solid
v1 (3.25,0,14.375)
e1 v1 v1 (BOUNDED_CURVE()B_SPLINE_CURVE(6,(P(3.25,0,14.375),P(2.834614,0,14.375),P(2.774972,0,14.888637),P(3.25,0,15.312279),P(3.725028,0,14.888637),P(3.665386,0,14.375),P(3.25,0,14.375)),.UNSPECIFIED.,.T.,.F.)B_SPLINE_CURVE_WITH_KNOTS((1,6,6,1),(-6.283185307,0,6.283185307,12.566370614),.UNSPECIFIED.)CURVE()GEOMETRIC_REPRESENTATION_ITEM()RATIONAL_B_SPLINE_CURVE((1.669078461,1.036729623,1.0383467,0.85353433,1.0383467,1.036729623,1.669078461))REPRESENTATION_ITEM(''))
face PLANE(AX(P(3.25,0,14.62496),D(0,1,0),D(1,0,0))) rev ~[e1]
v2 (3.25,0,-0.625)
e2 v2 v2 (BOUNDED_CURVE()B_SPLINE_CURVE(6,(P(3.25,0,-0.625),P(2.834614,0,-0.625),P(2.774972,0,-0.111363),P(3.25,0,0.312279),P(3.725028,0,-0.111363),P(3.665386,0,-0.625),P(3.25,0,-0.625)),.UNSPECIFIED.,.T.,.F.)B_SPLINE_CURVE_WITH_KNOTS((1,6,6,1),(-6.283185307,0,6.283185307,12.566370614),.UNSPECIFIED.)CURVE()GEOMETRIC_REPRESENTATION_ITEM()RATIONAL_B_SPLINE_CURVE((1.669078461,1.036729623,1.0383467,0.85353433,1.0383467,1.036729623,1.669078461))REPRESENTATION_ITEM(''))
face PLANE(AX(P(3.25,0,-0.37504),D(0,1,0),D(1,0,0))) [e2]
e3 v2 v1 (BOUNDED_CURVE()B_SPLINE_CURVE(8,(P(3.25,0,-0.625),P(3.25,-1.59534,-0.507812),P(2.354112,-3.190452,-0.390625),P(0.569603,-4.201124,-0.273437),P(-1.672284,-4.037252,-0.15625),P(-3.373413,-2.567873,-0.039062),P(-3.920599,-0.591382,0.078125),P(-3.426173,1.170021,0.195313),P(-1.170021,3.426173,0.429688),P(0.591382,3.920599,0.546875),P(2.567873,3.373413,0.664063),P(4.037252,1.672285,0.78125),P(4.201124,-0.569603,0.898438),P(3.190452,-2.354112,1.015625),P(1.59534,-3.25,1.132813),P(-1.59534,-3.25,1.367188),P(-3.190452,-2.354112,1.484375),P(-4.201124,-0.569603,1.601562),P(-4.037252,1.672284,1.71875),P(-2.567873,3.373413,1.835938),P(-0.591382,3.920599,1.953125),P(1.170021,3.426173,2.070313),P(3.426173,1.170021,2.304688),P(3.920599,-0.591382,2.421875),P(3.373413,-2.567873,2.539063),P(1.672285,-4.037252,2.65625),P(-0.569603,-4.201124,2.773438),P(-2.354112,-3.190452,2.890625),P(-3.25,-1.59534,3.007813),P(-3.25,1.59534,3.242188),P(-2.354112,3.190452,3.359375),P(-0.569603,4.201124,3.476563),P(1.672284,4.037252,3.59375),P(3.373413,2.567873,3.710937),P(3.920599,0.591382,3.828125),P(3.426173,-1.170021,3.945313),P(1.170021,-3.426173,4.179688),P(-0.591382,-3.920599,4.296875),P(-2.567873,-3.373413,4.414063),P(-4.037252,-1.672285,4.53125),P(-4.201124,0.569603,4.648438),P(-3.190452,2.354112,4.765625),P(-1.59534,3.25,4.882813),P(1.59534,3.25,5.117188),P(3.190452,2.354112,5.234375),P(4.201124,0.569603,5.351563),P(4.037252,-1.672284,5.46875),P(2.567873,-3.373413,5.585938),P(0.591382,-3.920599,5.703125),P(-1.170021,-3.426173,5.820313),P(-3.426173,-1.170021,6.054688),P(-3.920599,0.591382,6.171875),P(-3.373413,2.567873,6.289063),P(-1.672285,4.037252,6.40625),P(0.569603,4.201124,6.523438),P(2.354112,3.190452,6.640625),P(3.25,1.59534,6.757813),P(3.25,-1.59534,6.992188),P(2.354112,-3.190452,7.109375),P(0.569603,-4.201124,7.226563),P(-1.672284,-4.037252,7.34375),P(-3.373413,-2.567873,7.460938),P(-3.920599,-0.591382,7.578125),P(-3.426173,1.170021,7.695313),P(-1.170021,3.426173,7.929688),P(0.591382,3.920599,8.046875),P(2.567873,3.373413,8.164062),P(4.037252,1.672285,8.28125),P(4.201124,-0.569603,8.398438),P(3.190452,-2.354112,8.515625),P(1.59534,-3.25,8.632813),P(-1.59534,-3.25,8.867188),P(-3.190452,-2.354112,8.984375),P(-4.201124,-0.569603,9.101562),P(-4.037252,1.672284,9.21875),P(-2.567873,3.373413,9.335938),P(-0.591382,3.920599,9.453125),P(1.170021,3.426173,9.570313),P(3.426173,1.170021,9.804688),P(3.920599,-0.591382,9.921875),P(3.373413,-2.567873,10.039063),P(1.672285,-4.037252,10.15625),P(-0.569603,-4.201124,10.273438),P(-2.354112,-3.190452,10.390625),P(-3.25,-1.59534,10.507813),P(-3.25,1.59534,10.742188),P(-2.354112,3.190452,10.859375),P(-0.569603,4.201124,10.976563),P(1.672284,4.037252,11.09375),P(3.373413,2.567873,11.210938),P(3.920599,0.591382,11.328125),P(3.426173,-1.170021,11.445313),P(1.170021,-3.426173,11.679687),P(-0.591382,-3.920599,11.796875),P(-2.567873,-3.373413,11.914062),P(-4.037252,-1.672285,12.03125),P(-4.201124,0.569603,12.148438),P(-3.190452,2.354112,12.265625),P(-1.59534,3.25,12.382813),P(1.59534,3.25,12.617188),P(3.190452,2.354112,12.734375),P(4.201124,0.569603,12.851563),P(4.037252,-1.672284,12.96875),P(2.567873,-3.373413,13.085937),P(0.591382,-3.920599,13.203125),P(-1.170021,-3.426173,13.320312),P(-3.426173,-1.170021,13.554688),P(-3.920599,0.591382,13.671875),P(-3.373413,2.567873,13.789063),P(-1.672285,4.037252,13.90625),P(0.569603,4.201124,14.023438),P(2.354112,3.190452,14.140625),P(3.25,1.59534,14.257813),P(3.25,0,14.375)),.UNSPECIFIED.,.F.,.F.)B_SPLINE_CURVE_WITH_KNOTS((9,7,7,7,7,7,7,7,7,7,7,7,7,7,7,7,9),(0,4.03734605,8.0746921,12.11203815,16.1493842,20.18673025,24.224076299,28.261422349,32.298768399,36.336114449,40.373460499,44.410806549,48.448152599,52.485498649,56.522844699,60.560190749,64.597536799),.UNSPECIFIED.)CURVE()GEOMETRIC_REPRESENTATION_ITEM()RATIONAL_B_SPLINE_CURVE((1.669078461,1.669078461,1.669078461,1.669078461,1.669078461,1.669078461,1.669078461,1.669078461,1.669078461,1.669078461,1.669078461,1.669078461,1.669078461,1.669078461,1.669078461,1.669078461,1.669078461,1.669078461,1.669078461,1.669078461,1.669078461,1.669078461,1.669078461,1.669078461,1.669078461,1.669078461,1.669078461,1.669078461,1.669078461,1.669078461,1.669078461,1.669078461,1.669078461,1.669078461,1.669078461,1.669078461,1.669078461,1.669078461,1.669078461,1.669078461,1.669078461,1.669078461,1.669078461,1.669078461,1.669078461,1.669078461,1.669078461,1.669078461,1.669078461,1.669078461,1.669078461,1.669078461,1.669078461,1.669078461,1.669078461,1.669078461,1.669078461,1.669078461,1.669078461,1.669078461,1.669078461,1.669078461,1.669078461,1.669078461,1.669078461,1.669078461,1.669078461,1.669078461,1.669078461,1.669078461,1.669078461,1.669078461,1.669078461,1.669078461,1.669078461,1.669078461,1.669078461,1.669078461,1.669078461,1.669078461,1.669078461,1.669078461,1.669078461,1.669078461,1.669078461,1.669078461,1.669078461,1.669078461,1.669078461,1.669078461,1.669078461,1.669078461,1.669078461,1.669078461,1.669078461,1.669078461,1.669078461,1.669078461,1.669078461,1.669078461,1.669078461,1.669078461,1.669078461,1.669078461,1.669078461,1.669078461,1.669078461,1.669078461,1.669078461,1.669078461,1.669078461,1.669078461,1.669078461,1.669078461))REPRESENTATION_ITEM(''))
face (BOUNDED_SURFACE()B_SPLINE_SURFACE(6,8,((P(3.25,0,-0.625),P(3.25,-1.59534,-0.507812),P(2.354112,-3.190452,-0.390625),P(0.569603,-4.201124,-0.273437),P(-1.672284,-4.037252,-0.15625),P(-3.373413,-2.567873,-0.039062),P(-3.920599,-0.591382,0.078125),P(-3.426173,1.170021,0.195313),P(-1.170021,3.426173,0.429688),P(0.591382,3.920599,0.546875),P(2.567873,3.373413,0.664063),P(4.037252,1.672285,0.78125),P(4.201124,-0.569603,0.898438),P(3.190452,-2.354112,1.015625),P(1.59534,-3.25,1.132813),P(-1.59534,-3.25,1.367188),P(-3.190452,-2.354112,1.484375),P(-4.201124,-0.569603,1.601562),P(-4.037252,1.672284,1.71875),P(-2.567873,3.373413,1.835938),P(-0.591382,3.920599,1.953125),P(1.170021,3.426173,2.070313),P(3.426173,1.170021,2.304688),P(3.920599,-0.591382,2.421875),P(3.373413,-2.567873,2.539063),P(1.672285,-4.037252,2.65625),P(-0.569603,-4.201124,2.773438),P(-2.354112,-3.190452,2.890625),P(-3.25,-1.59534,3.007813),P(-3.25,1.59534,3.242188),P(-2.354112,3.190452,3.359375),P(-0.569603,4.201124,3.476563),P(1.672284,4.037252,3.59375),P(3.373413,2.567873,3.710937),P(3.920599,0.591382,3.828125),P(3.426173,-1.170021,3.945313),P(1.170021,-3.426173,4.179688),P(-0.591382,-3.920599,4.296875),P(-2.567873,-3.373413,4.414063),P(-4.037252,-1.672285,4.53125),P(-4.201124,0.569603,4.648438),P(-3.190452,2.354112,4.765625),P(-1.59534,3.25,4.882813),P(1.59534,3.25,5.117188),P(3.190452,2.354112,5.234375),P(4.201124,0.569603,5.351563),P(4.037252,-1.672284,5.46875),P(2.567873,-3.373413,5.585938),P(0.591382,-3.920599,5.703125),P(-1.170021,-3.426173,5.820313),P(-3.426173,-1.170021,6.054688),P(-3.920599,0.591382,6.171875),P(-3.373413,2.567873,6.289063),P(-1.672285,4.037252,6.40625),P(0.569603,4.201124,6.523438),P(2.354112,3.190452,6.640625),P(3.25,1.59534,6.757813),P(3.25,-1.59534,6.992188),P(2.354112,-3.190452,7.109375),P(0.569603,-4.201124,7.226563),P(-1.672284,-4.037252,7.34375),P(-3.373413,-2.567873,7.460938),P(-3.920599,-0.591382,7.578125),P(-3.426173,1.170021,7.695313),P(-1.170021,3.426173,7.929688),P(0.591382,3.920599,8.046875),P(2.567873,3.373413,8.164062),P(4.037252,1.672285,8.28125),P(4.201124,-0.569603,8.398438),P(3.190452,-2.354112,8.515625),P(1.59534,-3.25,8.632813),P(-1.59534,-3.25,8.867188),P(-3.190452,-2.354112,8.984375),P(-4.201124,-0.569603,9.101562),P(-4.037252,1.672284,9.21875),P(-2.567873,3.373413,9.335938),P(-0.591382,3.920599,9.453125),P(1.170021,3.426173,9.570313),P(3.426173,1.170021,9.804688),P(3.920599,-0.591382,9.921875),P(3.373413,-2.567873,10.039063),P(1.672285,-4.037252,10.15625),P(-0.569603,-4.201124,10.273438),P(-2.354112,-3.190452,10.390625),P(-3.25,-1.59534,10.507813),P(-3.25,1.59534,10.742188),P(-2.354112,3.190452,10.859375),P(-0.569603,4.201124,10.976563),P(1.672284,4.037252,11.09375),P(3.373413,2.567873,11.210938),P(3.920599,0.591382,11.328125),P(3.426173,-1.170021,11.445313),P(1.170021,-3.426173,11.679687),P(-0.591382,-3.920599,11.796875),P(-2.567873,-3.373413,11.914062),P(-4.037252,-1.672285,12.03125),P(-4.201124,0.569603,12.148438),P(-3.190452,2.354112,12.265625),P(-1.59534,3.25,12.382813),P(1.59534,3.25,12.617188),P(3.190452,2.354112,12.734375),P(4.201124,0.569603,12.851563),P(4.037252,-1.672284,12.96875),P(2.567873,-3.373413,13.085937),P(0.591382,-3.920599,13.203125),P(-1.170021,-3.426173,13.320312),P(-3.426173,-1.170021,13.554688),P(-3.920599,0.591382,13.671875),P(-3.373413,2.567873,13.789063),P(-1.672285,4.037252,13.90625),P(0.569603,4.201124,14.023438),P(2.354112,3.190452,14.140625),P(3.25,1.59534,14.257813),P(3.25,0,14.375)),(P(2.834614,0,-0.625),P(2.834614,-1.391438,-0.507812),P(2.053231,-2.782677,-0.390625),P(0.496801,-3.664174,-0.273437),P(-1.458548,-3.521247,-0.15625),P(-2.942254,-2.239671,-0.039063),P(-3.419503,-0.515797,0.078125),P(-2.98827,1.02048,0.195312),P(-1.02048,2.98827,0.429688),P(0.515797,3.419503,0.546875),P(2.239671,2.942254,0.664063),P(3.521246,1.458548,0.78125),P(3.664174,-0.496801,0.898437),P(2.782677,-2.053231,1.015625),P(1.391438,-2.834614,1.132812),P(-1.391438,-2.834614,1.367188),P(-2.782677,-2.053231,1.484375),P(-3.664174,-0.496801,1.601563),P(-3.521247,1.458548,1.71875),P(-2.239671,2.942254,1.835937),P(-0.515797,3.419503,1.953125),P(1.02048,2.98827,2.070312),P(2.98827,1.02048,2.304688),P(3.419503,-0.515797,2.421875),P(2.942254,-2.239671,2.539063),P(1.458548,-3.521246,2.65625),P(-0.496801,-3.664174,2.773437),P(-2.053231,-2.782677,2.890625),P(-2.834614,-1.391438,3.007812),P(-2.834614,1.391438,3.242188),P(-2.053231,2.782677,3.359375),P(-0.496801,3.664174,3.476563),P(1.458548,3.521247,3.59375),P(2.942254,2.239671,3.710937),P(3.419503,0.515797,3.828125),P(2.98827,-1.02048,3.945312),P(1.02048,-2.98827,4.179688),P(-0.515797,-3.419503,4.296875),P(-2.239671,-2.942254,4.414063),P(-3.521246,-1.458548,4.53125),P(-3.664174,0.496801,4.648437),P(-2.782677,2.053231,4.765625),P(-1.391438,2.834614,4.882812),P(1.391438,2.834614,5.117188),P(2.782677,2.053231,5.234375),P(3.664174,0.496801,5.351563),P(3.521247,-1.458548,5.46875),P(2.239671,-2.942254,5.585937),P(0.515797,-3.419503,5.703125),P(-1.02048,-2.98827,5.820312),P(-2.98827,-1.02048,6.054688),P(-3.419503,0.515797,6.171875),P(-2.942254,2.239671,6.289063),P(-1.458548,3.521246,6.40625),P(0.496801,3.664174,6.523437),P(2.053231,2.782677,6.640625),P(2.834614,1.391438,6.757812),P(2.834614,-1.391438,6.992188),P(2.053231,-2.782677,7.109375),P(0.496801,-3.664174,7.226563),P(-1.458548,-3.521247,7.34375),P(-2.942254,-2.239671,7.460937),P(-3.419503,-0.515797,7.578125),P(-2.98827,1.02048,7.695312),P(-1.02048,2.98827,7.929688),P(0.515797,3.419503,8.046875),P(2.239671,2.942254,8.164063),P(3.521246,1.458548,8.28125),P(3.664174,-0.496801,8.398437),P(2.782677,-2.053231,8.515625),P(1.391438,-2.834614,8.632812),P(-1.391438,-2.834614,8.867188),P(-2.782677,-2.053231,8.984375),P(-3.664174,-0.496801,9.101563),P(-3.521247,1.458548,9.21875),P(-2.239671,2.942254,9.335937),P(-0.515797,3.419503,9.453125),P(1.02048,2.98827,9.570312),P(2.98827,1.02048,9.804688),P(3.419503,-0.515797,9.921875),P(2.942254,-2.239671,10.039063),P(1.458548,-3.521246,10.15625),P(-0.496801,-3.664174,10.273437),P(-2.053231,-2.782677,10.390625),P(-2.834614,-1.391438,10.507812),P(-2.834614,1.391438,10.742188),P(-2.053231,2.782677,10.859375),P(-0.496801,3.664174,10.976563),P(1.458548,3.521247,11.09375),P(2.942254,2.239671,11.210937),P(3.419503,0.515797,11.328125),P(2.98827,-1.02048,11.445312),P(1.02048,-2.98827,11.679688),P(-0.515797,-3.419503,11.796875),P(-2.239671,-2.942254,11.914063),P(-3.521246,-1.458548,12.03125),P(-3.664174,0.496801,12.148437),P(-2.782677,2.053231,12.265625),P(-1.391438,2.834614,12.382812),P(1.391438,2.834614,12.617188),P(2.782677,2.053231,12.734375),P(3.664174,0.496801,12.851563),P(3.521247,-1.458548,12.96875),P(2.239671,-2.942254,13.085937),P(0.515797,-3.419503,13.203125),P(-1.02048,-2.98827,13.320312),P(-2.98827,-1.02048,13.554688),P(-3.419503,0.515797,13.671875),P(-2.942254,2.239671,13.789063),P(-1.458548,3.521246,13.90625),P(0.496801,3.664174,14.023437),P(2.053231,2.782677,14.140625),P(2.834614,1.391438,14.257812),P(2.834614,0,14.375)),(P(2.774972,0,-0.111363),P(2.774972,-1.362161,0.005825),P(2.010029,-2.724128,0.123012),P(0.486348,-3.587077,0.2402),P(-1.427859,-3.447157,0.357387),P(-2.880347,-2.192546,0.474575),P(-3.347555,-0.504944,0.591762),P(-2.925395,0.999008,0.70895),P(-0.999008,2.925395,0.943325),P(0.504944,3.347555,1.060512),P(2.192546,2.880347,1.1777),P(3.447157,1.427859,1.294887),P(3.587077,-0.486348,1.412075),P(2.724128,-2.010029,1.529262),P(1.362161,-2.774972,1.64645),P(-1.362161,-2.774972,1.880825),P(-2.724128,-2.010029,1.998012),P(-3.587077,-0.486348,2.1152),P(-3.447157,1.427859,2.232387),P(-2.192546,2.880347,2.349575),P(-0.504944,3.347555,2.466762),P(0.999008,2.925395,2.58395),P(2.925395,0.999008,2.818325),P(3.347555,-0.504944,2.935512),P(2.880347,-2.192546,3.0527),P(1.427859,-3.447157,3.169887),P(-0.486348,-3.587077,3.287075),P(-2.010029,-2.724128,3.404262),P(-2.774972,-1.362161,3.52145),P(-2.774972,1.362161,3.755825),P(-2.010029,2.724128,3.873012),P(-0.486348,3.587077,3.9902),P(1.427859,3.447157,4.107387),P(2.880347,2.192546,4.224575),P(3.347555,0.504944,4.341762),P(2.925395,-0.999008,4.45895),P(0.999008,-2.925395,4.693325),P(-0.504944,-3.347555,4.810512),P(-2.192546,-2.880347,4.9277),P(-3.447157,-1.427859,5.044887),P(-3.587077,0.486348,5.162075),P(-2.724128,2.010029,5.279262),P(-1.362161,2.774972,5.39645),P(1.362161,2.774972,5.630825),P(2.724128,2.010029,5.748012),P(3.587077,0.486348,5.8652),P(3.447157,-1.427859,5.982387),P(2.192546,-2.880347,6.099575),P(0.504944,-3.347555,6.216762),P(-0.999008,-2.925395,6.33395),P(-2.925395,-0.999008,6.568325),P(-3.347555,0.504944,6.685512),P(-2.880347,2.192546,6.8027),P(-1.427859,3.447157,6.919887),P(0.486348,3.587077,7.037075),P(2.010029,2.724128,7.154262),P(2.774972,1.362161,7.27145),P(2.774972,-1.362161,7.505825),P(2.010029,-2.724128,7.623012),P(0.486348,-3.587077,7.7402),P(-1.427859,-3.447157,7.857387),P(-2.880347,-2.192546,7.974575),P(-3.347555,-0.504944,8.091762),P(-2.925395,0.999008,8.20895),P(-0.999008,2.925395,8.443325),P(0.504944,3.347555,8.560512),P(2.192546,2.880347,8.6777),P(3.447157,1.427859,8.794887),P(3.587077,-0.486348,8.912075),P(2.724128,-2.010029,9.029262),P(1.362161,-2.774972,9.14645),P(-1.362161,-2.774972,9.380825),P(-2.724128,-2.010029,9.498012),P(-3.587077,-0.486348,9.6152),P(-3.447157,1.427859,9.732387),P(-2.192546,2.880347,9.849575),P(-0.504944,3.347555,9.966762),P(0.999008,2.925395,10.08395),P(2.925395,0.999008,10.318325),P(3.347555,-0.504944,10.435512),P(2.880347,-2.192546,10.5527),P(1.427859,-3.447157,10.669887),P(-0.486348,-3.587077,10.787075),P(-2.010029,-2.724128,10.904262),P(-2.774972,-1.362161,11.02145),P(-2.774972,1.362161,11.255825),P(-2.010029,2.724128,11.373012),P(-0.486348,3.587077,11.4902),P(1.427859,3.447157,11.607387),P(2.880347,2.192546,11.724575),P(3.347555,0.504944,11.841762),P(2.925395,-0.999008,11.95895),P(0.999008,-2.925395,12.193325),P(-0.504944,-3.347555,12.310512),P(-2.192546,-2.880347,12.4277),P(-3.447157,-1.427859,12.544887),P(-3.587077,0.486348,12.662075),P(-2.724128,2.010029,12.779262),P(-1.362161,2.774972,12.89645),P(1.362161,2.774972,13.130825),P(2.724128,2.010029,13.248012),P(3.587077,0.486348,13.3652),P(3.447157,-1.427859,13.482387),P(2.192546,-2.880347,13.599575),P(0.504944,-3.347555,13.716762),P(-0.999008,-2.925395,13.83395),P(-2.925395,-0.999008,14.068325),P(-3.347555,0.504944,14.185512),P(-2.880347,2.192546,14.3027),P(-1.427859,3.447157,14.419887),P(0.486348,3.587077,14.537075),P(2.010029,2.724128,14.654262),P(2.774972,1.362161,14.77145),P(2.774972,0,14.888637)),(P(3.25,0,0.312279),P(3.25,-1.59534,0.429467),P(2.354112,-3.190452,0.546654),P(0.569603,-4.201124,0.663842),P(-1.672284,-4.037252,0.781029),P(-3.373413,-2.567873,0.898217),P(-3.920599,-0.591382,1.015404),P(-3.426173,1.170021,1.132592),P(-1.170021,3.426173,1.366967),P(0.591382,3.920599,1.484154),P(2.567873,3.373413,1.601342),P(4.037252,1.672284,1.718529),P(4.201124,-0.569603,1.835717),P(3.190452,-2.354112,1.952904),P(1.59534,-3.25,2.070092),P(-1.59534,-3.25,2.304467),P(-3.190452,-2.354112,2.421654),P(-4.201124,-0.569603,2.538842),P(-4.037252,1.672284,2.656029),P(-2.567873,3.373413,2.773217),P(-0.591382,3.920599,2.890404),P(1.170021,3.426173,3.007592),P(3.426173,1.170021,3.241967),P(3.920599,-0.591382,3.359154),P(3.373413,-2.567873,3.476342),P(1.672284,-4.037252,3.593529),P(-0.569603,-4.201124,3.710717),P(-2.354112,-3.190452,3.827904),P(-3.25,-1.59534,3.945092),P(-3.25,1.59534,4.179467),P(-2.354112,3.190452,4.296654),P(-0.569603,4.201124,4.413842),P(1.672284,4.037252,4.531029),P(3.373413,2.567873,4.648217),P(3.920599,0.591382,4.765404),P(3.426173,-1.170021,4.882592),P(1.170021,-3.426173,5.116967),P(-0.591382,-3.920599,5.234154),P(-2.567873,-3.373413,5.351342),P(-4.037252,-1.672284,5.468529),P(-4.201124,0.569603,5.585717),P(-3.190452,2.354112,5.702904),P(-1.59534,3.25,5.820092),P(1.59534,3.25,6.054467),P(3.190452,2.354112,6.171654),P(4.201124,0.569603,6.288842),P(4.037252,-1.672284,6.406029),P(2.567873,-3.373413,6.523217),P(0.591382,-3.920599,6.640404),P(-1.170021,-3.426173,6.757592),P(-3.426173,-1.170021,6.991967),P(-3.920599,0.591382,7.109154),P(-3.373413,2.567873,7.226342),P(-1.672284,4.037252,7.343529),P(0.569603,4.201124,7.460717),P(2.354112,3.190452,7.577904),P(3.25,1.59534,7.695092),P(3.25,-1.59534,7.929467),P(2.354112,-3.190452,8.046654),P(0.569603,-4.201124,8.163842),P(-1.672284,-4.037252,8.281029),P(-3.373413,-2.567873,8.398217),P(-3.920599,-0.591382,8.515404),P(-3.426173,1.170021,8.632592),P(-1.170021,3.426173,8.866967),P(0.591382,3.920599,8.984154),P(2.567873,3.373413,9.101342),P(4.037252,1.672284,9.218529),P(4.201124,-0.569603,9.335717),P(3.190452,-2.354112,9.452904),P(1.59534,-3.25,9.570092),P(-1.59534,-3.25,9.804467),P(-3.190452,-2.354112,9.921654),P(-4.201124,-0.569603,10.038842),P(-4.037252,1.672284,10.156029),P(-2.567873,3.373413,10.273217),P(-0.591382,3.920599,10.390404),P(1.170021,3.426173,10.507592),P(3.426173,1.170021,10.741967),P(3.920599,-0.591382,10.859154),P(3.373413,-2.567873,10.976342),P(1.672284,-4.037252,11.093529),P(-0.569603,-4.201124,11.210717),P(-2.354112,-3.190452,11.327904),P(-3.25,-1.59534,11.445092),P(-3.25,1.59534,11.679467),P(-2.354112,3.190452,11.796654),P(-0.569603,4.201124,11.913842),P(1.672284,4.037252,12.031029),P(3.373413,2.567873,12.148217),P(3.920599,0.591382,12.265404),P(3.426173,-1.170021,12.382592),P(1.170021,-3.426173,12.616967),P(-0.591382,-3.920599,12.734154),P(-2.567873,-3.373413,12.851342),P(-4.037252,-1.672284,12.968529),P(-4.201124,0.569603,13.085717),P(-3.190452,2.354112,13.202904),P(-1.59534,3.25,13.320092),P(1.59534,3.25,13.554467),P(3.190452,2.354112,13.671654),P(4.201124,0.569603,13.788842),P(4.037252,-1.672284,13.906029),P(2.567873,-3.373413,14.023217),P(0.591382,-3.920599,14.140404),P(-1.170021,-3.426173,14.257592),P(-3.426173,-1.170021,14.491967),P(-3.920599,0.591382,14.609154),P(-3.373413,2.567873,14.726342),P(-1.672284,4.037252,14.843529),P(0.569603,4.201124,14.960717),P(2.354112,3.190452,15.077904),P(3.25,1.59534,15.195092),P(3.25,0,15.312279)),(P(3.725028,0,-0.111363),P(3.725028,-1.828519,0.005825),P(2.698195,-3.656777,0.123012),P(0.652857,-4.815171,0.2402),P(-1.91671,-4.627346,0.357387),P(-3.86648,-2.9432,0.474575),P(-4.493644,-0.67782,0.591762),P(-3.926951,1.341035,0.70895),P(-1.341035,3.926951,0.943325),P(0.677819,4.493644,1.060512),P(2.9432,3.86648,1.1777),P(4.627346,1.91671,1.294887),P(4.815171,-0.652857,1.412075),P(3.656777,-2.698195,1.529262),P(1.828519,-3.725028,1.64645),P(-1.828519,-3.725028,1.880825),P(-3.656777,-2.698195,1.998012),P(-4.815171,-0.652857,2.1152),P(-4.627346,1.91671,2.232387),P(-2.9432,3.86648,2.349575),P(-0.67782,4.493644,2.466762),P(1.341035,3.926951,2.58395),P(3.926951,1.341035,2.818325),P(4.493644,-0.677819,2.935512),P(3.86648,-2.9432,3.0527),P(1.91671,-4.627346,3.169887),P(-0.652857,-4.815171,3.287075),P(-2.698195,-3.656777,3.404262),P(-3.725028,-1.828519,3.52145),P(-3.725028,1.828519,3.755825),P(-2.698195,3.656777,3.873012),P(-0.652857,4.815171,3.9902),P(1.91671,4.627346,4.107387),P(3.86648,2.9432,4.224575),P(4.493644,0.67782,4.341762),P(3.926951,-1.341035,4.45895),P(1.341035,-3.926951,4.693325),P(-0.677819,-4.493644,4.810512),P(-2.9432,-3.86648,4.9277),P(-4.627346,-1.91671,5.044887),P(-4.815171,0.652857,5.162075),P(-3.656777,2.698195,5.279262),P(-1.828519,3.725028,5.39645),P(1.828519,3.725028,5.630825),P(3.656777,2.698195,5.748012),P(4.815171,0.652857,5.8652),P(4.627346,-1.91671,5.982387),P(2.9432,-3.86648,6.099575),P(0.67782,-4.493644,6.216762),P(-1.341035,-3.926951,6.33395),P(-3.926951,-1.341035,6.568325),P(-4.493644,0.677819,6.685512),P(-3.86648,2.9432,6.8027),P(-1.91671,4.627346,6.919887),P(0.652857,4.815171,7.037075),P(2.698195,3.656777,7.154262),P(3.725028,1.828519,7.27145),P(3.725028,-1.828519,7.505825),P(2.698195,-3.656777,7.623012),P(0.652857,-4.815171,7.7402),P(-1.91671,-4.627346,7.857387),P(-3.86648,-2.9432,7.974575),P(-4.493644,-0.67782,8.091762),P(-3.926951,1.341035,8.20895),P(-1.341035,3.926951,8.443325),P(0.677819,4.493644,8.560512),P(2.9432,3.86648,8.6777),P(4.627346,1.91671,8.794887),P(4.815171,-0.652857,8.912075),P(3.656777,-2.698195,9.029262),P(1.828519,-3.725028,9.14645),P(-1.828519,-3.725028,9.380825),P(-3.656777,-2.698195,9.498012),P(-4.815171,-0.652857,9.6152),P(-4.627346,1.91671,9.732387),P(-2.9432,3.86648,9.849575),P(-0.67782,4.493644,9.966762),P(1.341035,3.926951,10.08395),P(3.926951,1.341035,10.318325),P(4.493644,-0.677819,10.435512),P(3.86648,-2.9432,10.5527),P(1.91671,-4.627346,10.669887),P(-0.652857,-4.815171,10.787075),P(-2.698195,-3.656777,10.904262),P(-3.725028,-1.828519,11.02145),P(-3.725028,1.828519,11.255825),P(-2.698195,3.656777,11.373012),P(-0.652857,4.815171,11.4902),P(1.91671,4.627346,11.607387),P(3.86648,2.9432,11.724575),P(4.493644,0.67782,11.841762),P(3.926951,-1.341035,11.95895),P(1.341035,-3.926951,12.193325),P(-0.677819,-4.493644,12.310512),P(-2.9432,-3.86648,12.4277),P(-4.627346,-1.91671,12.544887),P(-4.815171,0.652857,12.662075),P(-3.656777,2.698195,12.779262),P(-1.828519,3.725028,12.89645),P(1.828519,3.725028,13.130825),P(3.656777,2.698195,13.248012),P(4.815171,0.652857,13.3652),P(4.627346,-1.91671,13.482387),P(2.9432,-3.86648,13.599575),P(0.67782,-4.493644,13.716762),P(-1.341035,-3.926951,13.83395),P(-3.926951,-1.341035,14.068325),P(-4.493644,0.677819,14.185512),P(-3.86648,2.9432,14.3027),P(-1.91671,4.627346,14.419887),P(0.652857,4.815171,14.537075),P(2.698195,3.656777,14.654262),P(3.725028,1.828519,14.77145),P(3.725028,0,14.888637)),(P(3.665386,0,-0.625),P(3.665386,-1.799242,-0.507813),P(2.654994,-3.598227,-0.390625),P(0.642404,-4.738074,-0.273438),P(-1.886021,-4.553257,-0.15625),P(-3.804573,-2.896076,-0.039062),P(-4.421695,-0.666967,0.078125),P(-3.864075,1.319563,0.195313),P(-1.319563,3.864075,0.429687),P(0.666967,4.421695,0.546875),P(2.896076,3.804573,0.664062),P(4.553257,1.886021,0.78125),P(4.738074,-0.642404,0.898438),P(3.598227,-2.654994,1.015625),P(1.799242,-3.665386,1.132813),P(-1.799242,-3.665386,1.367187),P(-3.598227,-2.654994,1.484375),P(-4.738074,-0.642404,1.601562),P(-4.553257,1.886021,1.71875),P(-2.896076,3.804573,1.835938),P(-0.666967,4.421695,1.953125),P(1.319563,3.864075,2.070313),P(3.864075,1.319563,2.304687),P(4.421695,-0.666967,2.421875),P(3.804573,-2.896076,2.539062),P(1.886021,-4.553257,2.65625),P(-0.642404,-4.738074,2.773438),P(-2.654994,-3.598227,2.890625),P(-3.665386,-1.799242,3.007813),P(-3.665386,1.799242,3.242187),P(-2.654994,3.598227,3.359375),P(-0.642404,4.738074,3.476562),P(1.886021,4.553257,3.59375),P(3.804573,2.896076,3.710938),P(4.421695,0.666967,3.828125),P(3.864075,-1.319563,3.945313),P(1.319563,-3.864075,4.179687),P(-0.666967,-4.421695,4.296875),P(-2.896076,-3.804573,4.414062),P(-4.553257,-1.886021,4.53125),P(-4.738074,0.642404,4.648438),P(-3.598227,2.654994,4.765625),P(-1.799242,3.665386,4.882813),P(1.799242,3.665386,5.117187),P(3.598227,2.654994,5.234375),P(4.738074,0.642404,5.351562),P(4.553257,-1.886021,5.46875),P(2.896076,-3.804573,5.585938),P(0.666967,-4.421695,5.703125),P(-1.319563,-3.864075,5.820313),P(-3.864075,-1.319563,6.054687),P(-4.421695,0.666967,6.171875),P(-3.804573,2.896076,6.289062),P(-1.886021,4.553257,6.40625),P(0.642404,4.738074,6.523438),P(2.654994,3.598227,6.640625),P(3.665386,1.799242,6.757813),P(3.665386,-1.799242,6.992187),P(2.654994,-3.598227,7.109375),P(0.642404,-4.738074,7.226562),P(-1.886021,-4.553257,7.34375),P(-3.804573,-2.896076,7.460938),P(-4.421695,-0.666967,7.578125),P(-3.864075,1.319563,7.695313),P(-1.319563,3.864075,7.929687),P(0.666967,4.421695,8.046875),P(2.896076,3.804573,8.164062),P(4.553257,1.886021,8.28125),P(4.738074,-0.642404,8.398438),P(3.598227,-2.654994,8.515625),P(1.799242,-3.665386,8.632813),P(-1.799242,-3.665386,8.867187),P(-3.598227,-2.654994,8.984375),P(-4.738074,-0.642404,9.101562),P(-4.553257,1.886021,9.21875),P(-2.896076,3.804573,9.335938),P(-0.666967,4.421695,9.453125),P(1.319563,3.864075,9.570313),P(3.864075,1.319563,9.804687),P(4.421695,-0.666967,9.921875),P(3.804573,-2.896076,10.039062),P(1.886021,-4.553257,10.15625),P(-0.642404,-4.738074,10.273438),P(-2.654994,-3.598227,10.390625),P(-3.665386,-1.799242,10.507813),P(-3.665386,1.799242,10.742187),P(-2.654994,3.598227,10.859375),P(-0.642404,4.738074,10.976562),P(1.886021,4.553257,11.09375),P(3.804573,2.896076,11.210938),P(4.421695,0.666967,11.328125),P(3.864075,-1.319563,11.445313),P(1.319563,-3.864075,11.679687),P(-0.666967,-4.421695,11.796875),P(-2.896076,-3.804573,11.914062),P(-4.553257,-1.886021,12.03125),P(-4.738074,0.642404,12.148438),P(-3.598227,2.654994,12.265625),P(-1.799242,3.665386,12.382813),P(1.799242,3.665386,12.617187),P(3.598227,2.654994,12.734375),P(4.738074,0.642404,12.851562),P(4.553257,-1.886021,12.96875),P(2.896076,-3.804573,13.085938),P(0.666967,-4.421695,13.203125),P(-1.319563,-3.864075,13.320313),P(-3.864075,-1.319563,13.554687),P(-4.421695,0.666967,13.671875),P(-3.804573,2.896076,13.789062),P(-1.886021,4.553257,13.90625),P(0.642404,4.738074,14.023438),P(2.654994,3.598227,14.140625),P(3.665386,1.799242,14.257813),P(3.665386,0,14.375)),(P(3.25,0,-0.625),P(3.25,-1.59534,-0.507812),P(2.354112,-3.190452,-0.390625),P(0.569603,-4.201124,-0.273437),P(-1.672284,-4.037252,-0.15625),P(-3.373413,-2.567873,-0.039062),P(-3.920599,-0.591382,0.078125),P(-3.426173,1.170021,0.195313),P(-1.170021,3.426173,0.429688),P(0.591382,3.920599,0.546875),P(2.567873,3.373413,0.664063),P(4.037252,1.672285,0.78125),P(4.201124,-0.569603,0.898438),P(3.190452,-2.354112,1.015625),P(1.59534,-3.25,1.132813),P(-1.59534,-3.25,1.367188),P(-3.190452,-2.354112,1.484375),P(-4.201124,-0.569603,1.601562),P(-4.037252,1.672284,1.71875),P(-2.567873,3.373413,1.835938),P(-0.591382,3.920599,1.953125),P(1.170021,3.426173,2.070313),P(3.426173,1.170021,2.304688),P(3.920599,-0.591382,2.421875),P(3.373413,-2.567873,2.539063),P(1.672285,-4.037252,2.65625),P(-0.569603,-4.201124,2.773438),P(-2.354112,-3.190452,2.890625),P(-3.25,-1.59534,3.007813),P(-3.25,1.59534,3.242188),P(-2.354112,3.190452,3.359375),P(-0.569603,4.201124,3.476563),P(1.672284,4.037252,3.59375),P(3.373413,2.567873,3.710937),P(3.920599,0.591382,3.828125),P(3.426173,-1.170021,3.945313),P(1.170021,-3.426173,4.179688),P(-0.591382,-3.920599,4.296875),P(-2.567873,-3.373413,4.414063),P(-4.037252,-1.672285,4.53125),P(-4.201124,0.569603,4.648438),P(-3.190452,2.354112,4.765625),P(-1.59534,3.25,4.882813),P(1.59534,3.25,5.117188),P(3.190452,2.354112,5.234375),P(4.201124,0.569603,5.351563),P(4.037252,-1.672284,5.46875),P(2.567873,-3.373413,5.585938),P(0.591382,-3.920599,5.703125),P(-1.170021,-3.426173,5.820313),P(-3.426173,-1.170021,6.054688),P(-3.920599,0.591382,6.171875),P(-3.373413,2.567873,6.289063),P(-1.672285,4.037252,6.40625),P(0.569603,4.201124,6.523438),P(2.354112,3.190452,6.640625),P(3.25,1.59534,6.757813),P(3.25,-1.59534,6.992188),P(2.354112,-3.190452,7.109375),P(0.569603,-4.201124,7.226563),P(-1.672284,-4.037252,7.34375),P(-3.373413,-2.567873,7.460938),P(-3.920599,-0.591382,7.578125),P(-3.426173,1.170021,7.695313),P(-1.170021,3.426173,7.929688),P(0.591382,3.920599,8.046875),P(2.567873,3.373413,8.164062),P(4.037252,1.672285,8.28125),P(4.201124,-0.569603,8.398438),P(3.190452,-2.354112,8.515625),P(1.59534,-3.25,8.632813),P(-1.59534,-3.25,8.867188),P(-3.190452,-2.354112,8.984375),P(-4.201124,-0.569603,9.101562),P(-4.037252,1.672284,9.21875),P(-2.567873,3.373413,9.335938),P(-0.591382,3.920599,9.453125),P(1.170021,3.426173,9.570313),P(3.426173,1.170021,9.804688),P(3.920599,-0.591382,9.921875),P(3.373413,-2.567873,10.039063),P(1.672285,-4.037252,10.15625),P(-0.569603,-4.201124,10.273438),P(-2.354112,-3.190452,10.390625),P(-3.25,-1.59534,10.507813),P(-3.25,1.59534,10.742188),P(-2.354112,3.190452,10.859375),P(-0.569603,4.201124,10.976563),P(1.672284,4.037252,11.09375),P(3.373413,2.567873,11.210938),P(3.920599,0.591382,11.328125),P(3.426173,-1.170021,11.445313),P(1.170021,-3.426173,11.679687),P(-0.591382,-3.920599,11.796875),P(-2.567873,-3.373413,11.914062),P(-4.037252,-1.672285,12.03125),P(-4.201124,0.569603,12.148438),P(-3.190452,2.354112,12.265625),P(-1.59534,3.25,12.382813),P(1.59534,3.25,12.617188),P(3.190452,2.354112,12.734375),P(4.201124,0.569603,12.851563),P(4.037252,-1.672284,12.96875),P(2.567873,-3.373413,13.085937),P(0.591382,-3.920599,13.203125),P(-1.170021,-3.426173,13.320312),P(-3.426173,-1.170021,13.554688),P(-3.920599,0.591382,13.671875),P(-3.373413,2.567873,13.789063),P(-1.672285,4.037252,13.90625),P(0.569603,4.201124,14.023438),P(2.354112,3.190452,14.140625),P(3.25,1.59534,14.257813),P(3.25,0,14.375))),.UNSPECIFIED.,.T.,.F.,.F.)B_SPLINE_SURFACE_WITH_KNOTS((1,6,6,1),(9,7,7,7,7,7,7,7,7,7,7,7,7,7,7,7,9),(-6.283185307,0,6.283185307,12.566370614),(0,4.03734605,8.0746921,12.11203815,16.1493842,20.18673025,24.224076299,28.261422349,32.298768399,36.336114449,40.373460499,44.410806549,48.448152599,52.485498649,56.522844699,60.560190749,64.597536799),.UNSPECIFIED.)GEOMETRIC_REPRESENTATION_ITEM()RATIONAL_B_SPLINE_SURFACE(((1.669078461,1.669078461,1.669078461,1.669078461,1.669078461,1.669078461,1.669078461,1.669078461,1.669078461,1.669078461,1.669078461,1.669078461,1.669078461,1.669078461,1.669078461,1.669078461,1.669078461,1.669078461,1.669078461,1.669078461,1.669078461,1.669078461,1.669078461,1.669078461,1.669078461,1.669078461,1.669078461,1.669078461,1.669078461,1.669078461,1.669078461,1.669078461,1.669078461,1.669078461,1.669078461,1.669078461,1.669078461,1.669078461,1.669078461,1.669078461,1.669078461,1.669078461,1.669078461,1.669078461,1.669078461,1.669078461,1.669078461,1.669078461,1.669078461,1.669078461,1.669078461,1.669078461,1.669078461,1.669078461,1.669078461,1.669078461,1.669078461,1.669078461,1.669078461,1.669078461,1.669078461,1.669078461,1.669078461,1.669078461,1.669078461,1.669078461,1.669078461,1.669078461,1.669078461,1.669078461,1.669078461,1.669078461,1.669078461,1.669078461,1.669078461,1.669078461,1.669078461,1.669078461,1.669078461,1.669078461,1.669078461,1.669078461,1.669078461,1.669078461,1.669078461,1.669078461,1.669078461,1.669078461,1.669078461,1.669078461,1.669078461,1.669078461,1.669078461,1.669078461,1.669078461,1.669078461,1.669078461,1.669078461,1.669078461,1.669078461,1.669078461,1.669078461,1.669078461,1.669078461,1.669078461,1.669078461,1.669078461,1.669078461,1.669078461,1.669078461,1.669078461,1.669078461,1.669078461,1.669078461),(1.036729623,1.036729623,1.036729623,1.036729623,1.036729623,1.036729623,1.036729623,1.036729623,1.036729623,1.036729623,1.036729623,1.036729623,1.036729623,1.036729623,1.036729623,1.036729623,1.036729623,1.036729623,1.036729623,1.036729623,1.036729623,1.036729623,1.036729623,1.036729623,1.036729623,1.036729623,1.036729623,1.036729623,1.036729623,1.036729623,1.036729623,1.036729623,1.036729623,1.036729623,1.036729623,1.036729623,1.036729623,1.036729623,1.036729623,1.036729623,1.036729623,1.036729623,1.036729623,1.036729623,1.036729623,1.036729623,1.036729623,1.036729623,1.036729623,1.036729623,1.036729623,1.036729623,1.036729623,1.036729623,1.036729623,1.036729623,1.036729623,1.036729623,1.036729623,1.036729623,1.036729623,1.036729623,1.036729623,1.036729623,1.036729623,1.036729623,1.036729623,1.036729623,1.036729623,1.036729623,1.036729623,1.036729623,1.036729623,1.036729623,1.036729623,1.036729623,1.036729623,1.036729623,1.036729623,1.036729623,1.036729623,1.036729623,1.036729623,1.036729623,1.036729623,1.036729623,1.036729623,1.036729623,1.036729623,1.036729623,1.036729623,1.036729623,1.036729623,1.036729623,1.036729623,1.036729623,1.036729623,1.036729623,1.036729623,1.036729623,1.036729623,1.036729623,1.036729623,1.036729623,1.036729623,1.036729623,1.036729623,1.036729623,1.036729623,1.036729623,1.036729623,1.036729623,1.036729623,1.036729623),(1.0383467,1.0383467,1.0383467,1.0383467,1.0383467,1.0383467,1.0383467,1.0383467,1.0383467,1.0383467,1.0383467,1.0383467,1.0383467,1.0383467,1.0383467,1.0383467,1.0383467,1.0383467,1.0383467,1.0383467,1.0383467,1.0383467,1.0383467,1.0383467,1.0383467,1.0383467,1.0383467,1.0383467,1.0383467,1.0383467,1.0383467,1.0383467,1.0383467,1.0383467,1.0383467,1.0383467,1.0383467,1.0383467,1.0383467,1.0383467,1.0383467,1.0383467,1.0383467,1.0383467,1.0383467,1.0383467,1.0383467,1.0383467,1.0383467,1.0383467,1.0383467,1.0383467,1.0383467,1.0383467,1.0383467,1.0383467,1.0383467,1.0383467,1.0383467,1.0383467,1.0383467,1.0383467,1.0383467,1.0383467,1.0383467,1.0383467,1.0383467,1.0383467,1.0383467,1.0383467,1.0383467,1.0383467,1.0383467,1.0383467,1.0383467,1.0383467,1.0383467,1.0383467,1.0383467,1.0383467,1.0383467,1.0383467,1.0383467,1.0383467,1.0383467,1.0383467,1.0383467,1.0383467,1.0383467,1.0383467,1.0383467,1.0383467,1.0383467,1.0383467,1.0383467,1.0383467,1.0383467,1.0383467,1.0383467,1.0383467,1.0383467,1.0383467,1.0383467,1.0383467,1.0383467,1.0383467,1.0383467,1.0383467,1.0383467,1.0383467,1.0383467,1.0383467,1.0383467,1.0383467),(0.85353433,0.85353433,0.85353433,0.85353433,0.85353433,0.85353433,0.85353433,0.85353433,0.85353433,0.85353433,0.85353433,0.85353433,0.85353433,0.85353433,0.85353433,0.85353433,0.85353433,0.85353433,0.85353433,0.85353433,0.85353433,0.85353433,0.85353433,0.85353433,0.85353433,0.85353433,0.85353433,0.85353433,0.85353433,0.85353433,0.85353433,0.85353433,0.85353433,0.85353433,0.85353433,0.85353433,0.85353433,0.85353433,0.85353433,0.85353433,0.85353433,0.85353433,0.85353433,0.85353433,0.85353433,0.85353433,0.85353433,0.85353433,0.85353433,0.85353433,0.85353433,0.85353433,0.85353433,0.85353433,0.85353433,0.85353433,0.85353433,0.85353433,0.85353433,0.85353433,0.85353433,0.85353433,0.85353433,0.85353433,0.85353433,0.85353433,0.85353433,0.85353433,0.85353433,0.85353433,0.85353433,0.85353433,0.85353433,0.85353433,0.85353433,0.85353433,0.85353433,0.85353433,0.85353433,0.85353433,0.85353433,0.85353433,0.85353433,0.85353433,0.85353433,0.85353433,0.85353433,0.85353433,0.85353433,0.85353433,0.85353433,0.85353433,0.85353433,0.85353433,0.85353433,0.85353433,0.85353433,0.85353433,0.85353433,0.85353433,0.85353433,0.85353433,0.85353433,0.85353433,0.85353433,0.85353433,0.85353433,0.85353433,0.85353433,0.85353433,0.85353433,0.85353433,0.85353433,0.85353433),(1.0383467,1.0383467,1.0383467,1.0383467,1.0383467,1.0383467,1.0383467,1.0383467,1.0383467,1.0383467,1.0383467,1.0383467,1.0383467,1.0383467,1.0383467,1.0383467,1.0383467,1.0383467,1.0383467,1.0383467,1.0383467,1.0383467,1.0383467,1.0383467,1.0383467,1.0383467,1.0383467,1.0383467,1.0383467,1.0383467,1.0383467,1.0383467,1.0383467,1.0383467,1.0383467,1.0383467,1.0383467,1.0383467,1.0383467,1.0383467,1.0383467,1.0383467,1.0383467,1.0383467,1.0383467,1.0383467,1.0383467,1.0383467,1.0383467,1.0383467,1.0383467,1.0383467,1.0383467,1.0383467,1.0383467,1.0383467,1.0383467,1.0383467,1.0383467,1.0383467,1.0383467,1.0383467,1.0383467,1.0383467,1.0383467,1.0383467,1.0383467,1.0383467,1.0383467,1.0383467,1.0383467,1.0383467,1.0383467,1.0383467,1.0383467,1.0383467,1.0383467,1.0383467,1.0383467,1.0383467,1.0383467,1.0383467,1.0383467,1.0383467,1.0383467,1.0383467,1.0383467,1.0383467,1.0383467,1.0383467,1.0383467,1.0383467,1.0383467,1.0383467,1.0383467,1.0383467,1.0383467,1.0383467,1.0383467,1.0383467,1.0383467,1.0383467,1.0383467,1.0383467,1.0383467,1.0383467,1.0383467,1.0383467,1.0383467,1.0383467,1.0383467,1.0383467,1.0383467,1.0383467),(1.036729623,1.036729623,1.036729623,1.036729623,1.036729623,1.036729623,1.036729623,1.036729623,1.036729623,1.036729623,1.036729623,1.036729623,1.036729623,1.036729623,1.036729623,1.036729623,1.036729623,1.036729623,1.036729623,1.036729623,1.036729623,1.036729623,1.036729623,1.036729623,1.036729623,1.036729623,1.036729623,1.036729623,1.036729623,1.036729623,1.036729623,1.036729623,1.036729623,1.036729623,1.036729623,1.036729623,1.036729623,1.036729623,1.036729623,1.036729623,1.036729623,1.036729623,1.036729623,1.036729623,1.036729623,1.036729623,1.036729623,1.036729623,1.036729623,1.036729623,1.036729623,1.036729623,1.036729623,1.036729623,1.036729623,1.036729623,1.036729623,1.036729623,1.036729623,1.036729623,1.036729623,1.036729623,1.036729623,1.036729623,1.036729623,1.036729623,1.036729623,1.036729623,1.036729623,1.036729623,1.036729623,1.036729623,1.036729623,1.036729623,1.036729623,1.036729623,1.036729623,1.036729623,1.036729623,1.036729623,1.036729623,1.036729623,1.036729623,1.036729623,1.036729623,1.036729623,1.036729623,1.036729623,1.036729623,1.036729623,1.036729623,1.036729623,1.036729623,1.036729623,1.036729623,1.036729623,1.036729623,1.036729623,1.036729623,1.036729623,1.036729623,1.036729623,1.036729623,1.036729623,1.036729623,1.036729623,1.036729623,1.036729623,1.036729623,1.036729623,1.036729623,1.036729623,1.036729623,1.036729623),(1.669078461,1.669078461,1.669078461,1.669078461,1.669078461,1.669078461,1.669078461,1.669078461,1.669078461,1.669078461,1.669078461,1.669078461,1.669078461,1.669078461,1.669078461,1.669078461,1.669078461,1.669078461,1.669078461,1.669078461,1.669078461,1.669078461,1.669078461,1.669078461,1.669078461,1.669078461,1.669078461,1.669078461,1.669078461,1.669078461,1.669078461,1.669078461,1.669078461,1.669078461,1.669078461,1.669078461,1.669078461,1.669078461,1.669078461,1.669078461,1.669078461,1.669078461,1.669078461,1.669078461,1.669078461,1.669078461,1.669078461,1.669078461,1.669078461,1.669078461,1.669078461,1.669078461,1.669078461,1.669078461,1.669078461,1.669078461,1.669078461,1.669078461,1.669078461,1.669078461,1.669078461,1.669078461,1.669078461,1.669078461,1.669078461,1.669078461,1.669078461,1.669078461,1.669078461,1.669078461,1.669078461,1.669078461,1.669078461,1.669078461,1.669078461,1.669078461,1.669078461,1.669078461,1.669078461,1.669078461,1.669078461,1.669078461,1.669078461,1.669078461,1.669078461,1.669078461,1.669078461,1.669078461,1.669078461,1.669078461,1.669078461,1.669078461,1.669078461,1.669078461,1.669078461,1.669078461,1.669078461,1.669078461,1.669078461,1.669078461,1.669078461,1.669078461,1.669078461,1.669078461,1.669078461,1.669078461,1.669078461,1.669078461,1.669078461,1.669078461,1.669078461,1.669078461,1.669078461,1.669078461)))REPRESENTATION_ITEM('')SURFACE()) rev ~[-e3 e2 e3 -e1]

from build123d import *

# Parameters (mm, degrees)
AUSTRAGUNG1_PITCH  = 1.5
AUSTRAGUNG1_HEIGHT = 15
AUSTRAGUNG1_RADIUS = 3.25
SKIZZE2_R          = 0.25


with BuildPart() as part:
    # Austragung1: sweep along a helix
    with BuildLine() as austragung1_path:
        Helix(AUSTRAGUNG1_PITCH, AUSTRAGUNG1_HEIGHT, AUSTRAGUNG1_RADIUS, center=(0, 0, 0), direction=(0, 0, 1), lefthand=True)
    # Skizze2 → Austragung1 (sweep)
    with BuildSketch(Plane(origin=(0, 0, 0), x_dir=(0, 0, -1), z_dir=(1, 0, 0))):
        with Locations((0, -3.25)):
            Circle(SKIZZE2_R)
    sweep(path=austragung1_path.line, is_frenet=True)


solid = part.part
